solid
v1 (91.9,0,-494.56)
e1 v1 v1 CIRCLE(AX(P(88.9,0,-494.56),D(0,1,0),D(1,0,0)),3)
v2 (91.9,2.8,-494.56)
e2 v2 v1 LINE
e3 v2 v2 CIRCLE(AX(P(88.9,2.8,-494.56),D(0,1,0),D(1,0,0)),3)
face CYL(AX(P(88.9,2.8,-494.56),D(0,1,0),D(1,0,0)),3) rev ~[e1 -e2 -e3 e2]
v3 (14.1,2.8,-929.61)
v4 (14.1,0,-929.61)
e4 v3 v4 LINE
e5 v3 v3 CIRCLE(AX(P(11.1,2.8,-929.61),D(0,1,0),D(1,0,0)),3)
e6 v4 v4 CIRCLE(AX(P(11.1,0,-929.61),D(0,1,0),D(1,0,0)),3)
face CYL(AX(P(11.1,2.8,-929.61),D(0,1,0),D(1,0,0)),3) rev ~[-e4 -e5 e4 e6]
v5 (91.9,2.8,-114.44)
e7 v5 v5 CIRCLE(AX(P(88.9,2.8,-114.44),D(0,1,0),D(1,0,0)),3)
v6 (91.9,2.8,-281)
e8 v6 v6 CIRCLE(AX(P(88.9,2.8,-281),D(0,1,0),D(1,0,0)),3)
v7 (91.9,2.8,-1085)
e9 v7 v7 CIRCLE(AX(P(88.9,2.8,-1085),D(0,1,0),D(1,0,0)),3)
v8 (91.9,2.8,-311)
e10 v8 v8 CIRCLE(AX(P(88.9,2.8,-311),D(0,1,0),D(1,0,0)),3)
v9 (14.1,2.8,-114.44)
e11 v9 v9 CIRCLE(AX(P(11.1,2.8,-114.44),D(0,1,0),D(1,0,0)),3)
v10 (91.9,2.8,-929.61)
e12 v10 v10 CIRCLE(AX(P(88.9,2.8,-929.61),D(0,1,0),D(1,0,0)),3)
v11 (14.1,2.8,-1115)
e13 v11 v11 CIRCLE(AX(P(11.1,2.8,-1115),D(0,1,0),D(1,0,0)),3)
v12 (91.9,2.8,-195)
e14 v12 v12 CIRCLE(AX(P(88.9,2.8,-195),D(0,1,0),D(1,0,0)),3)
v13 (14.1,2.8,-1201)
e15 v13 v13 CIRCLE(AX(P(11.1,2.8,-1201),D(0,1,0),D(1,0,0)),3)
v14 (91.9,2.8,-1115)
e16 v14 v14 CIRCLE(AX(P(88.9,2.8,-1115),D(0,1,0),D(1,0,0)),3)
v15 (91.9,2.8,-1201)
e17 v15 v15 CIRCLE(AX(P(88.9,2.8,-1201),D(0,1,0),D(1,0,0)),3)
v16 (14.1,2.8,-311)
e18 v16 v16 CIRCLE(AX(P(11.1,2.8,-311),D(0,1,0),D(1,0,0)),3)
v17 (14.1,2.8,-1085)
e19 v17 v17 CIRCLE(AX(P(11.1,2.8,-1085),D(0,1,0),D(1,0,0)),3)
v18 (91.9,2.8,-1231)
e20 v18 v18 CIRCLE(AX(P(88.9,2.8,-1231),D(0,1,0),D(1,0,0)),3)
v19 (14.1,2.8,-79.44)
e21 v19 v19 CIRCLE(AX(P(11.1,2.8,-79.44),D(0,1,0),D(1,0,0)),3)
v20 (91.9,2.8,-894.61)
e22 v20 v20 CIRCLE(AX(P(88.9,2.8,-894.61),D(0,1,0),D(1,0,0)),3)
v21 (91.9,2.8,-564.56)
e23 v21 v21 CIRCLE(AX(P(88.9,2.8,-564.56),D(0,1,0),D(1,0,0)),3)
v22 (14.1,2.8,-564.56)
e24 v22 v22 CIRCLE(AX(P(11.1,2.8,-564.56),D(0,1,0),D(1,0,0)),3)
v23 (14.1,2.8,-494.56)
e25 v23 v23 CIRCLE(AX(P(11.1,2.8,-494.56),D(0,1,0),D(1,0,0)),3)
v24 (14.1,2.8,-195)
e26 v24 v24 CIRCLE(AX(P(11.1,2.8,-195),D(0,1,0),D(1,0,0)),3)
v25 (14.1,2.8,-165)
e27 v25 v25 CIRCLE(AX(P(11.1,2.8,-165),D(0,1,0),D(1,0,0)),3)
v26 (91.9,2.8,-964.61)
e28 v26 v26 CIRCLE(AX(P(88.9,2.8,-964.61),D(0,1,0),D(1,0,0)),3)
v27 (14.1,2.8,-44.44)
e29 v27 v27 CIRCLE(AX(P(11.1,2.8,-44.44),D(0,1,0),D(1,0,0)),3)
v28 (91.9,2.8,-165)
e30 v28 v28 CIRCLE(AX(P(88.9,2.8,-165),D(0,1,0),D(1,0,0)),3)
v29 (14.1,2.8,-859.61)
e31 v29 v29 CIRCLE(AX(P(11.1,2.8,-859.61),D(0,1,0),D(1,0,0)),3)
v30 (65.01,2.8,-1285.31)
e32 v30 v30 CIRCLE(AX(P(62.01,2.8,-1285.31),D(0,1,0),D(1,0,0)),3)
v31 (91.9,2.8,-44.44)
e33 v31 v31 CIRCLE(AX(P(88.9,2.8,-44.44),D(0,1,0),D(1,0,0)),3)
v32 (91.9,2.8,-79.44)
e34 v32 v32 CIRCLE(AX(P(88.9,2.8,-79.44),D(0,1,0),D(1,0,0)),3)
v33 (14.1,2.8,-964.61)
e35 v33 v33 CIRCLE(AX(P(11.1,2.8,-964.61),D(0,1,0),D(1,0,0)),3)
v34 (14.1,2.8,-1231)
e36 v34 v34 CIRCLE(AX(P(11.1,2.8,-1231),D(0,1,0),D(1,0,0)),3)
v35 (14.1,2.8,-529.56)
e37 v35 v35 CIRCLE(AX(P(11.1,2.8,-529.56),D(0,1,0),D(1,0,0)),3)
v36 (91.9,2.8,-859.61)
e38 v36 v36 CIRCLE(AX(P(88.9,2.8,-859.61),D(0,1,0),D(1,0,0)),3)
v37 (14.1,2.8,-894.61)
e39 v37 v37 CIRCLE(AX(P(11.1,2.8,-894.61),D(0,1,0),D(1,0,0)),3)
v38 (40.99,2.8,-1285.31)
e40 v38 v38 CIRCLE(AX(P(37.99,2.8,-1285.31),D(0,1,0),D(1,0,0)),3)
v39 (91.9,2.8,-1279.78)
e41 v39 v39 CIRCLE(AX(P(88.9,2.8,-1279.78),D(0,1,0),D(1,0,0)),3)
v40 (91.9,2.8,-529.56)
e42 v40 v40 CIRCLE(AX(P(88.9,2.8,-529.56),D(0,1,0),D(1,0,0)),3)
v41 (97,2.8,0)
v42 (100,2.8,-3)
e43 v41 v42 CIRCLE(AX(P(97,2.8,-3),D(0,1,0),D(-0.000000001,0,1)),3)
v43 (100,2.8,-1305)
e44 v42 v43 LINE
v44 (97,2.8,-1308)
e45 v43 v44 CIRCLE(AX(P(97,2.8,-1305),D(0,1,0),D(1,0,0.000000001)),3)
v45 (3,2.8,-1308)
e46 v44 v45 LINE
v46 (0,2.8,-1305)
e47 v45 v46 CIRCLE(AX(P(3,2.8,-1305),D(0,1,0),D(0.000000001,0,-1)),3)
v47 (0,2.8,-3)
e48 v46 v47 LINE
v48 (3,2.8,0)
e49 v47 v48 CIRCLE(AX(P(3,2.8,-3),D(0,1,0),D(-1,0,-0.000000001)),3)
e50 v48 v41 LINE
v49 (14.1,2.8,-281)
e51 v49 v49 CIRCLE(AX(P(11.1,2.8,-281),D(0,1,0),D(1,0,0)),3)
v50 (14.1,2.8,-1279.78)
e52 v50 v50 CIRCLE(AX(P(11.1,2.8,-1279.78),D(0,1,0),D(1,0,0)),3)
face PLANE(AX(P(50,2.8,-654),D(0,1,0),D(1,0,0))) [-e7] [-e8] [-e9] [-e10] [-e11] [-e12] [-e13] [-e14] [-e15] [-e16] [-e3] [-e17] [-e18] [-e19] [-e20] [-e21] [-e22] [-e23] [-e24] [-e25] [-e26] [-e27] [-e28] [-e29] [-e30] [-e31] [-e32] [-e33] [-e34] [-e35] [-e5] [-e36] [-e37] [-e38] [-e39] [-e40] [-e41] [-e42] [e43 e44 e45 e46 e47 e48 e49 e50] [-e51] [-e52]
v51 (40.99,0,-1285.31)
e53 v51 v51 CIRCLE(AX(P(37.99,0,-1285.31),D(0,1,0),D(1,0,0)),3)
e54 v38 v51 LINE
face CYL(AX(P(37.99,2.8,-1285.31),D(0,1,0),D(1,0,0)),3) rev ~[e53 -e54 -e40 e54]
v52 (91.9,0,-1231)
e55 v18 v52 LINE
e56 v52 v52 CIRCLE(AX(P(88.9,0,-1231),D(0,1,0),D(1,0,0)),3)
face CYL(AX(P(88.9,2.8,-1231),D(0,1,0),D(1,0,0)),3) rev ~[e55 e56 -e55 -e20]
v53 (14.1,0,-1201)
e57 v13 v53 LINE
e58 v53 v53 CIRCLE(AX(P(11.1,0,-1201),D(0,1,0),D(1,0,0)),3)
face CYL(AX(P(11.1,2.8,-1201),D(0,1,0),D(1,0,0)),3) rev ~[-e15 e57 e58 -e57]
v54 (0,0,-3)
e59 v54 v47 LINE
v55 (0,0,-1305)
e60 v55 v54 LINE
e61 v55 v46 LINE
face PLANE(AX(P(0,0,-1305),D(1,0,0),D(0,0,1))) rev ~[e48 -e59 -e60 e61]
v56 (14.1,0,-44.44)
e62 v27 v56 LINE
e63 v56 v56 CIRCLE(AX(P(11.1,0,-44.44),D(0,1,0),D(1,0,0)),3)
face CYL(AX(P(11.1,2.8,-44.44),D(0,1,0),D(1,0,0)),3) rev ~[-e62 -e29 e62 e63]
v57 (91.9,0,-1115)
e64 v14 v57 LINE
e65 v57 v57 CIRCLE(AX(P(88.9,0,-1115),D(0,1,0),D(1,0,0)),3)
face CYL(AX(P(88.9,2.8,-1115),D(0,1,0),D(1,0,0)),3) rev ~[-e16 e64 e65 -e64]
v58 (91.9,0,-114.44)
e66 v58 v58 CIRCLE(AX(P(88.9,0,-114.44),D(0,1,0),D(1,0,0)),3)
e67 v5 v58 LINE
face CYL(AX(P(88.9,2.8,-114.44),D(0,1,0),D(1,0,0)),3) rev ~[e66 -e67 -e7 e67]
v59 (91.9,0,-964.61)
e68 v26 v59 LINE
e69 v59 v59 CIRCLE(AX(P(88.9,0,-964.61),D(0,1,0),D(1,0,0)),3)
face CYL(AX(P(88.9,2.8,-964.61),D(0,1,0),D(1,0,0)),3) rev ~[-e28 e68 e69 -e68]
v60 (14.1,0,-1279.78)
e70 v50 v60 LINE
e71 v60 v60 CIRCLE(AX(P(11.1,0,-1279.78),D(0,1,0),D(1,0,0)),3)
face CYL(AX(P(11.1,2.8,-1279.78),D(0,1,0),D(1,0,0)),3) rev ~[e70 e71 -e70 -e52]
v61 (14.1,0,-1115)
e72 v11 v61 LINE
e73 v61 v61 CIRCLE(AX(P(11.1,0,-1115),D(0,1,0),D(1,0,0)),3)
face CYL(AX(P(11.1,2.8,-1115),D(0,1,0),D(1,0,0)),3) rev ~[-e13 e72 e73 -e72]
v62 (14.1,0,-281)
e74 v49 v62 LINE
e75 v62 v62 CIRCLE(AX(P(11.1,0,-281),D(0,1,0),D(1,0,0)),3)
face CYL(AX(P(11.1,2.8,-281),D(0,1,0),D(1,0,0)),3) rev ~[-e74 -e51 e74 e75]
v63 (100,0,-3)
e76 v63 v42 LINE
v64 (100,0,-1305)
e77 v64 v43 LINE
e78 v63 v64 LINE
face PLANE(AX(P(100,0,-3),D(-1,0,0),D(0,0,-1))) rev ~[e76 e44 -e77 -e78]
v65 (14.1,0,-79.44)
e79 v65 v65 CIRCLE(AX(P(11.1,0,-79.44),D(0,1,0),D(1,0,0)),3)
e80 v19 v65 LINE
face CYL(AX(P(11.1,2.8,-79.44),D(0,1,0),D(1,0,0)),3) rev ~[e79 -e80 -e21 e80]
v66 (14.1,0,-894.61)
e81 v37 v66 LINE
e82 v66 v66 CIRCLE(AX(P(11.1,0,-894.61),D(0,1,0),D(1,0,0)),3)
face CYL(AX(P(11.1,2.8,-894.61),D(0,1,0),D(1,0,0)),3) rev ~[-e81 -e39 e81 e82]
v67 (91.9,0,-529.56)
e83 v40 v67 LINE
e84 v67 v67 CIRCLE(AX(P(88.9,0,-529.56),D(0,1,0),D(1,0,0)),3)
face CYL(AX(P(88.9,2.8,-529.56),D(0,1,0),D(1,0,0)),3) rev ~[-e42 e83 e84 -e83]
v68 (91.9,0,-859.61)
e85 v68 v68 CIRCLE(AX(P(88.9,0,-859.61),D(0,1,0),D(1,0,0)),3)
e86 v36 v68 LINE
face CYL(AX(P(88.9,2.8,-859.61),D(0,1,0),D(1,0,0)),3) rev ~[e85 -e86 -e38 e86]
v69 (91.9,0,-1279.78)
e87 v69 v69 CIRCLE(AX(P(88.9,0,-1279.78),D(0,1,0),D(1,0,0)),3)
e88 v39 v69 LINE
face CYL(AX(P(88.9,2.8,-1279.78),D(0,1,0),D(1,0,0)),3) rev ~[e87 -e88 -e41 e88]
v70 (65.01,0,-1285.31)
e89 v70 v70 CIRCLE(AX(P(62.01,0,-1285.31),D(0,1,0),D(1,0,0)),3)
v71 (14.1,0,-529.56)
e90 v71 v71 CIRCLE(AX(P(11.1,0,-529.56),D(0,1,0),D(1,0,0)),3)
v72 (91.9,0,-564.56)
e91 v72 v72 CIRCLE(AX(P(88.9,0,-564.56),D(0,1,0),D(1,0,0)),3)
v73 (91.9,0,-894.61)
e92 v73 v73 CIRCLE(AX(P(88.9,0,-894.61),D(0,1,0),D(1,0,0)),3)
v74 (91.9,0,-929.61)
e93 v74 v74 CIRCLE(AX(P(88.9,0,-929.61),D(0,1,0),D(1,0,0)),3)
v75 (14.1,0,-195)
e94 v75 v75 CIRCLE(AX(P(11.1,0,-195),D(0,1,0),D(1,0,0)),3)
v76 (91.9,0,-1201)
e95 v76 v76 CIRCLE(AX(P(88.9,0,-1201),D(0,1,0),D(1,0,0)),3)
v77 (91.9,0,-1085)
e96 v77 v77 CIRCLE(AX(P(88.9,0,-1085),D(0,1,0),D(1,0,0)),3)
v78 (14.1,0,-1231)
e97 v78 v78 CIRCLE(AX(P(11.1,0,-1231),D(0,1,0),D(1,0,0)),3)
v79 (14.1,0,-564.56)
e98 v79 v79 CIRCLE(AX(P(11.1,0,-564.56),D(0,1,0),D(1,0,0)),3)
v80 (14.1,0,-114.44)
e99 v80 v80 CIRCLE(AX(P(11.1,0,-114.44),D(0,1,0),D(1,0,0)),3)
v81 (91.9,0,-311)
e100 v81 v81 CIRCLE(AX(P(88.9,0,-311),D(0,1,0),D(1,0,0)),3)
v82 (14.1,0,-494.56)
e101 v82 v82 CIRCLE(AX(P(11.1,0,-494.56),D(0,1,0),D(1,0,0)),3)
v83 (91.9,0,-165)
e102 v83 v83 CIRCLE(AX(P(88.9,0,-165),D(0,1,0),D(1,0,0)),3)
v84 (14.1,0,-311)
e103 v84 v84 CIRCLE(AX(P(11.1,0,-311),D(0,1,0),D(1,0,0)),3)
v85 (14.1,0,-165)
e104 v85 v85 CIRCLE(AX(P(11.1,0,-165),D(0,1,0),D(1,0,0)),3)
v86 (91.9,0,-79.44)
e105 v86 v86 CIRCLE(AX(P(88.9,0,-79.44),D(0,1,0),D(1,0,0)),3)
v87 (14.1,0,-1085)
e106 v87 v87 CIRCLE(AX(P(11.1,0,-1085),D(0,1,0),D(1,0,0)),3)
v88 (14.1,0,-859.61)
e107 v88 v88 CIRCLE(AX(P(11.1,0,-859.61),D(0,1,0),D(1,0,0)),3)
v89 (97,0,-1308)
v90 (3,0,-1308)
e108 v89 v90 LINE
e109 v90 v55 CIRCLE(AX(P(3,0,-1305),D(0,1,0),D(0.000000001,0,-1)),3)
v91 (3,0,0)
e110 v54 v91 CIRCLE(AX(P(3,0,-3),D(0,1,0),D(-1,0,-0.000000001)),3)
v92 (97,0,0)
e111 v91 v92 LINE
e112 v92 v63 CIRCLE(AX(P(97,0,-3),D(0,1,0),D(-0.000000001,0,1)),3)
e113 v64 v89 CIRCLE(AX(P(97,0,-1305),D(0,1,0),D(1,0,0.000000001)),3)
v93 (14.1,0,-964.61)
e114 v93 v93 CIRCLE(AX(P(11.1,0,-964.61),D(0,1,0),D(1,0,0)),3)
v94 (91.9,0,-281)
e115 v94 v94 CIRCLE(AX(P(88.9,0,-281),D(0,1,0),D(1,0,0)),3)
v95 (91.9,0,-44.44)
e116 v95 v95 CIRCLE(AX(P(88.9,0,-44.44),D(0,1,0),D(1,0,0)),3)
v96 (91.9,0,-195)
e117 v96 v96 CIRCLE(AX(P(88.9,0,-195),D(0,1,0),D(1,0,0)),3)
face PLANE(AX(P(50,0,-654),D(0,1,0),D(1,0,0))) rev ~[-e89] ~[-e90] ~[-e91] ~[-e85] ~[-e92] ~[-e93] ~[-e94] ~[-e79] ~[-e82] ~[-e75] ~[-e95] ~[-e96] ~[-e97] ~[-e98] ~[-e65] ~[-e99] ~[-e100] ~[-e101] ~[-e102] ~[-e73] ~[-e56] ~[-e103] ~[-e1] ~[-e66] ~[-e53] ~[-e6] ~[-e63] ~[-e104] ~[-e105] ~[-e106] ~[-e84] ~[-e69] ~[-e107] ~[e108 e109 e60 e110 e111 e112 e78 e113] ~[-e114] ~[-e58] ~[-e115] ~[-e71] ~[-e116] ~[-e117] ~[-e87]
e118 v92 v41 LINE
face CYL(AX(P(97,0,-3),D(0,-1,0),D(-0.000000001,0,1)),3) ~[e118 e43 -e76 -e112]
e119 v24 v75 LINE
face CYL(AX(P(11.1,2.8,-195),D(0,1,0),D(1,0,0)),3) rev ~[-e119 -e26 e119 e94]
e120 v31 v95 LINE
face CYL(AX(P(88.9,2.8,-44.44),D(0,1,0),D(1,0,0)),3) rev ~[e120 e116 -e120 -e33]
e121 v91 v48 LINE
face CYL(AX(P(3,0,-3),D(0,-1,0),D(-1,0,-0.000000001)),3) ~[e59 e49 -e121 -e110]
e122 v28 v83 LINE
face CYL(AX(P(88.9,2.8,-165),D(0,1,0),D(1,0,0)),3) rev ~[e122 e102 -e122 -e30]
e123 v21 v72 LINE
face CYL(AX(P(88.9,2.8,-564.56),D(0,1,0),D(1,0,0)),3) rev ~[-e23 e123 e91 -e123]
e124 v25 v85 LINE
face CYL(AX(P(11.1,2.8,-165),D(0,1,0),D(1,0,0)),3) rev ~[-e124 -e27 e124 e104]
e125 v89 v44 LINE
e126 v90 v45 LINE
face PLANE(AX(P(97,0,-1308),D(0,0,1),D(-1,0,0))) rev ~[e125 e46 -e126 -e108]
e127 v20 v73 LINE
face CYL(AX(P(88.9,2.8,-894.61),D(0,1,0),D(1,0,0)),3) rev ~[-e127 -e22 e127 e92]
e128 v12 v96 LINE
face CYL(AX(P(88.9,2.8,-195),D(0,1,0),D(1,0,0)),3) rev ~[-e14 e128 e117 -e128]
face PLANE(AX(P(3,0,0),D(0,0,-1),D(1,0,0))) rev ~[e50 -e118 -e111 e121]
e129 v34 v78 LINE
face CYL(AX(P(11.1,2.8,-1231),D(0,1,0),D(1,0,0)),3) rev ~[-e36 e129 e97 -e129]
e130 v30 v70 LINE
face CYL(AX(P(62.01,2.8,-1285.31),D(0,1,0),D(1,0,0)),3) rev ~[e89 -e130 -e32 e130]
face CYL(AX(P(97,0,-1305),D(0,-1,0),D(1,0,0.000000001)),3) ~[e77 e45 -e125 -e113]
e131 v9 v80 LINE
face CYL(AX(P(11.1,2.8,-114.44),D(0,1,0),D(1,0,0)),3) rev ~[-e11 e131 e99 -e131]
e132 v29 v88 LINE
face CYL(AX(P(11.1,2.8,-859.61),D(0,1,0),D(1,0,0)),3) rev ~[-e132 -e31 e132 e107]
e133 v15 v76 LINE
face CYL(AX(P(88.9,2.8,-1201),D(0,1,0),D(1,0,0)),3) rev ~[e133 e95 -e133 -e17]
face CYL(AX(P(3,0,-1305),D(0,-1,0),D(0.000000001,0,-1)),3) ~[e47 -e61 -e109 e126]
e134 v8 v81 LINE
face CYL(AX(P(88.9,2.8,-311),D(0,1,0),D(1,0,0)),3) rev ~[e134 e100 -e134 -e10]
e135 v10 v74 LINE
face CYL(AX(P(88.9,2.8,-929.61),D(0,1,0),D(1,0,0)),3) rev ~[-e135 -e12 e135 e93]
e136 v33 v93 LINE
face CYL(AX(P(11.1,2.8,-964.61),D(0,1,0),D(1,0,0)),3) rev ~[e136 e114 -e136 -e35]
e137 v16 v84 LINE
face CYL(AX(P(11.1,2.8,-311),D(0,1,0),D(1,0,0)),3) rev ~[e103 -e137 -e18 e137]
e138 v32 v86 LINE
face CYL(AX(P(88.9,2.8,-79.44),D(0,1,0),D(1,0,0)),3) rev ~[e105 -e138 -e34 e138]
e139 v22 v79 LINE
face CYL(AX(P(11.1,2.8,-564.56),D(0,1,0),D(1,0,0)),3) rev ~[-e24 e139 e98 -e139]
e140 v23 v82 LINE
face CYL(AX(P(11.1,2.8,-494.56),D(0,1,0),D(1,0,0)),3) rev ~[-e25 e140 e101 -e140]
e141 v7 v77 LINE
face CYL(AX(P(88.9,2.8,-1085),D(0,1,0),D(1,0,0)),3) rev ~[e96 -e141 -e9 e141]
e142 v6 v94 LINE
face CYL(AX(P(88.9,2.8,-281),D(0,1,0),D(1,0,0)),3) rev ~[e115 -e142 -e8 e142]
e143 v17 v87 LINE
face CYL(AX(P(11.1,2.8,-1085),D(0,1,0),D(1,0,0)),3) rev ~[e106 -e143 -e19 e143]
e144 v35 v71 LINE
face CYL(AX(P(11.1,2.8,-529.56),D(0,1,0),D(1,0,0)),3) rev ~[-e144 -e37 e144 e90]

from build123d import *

# Parameters (mm, degrees)
BOSS_EXTRUDE1_DEPTH = 2.8
CUT_EXTRUDE1_REACH  = 4.8
SKETCH2_R           = 3
CUT_EXTRUDE2_REACH  = 4.8
SKETCH3_R           = 3
CUT_EXTRUDE3_REACH  = 4.8
SKETCH4_R           = 3
CUT_EXTRUDE4_REACH  = 4.8
SKETCH5_R           = 3


with BuildPart() as part:
    # Sketch1 → Boss-Extrude1 (new body)
    with BuildSketch(Plane(origin=(0, 0, 0), x_dir=(1, 0, 0), z_dir=(0, 1, 0))):
        with BuildLine():
            Line((3, 0), (97, 0))
            ThreePointArc((97, 0), (99.121320344, 0.878679656), (100, 3))
            Line((100, 3), (100, 1305))
            ThreePointArc((100, 1305), (99.121320344, 1307.121320344), (97, 1308))
            Line((97, 1308), (3, 1308))
            ThreePointArc((3, 1308), (0.878679656, 1307.121320344), (0, 1305))
            Line((0, 1305), (0, 3))
            ThreePointArc((0, 3), (0.878679656, 0.878679656), (3, 0))
        make_face()
    extrude(amount=BOSS_EXTRUDE1_DEPTH)

    # Sketch2 → Cut-Extrude1 (cut, up to next)
    with BuildSketch(Plane(origin=(0, 2.8, 0), x_dir=(1, 0, 0), z_dir=(0, 1, 0)), mode=Mode.PRIVATE) as cut_extrude1_sk1:
        with Locations((88.9, 1279.78)):
            Circle(SKETCH2_R)
    cut_extrude1_tool1 = extrude(cut_extrude1_sk1.sketch, amount=-CUT_EXTRUDE1_REACH, mode=Mode.PRIVATE) & part.part
    add(cut_extrude1_tool1.solids().sort_by_distance((88.9, 2.8, -1279.78))[0], mode=Mode.SUBTRACT)
    # Sketch2 → Cut-Extrude1 (cut, up to next)
    with BuildSketch(Plane(origin=(0, 2.8, 0), x_dir=(1, 0, 0), z_dir=(0, 1, 0)), mode=Mode.PRIVATE) as cut_extrude1_sk2:
        with Locations((88.9, 929.61)):
            Circle(SKETCH2_R)
    cut_extrude1_tool2 = extrude(cut_extrude1_sk2.sketch, amount=-CUT_EXTRUDE1_REACH, mode=Mode.PRIVATE) & part.part
    add(cut_extrude1_tool2.solids().sort_by_distance((88.9, 2.8, -929.61))[0], mode=Mode.SUBTRACT)
    # Sketch2 → Cut-Extrude1 (cut, up to next)
    with BuildSketch(Plane(origin=(0, 2.8, 0), x_dir=(1, 0, 0), z_dir=(0, 1, 0)), mode=Mode.PRIVATE) as cut_extrude1_sk3:
        with Locations((88.9, 529.56)):
            Circle(SKETCH2_R)
    cut_extrude1_tool3 = extrude(cut_extrude1_sk3.sketch, amount=-CUT_EXTRUDE1_REACH, mode=Mode.PRIVATE) & part.part
    add(cut_extrude1_tool3.solids().sort_by_distance((88.9, 2.8, -529.56))[0], mode=Mode.SUBTRACT)
    # Sketch2 → Cut-Extrude1 (cut, up to next)
    with BuildSketch(Plane(origin=(0, 2.8, 0), x_dir=(1, 0, 0), z_dir=(0, 1, 0)), mode=Mode.PRIVATE) as cut_extrude1_sk4:
        with Locations((88.9, 79.44)):
            Circle(SKETCH2_R)
    cut_extrude1_tool4 = extrude(cut_extrude1_sk4.sketch, amount=-CUT_EXTRUDE1_REACH, mode=Mode.PRIVATE) & part.part
    add(cut_extrude1_tool4.solids().sort_by_distance((88.9, 2.8, -79.44))[0], mode=Mode.SUBTRACT)
    # Sketch2 → Cut-Extrude1 (cut, up to next)
    with BuildSketch(Plane(origin=(0, 2.8, 0), x_dir=(1, 0, 0), z_dir=(0, 1, 0)), mode=Mode.PRIVATE) as cut_extrude1_sk5:
        with Locations((11.1, 79.44)):
            Circle(SKETCH2_R)
    cut_extrude1_tool5 = extrude(cut_extrude1_sk5.sketch, amount=-CUT_EXTRUDE1_REACH, mode=Mode.PRIVATE) & part.part
    add(cut_extrude1_tool5.solids().sort_by_distance((11.1, 2.8, -79.44))[0], mode=Mode.SUBTRACT)
    # Sketch2 → Cut-Extrude1 (cut, up to next)
    with BuildSketch(Plane(origin=(0, 2.8, 0), x_dir=(1, 0, 0), z_dir=(0, 1, 0)), mode=Mode.PRIVATE) as cut_extrude1_sk6:
        with Locations((11.1, 529.56)):
            Circle(SKETCH2_R)
    cut_extrude1_tool6 = extrude(cut_extrude1_sk6.sketch, amount=-CUT_EXTRUDE1_REACH, mode=Mode.PRIVATE) & part.part
    add(cut_extrude1_tool6.solids().sort_by_distance((11.1, 2.8, -529.56))[0], mode=Mode.SUBTRACT)
    # Sketch2 → Cut-Extrude1 (cut, up to next)
    with BuildSketch(Plane(origin=(0, 2.8, 0), x_dir=(1, 0, 0), z_dir=(0, 1, 0)), mode=Mode.PRIVATE) as cut_extrude1_sk7:
        with Locations((11.1, 929.61)):
            Circle(SKETCH2_R)
    cut_extrude1_tool7 = extrude(cut_extrude1_sk7.sketch, amount=-CUT_EXTRUDE1_REACH, mode=Mode.PRIVATE) & part.part
    add(cut_extrude1_tool7.solids().sort_by_distance((11.1, 2.8, -929.61))[0], mode=Mode.SUBTRACT)
    # Sketch2 → Cut-Extrude1 (cut, up to next)
    with BuildSketch(Plane(origin=(0, 2.8, 0), x_dir=(1, 0, 0), z_dir=(0, 1, 0)), mode=Mode.PRIVATE) as cut_extrude1_sk8:
        with Locations((11.1, 1279.78)):
            Circle(SKETCH2_R)
    cut_extrude1_tool8 = extrude(cut_extrude1_sk8.sketch, amount=-CUT_EXTRUDE1_REACH, mode=Mode.PRIVATE) & part.part
    add(cut_extrude1_tool8.solids().sort_by_distance((11.1, 2.8, -1279.78))[0], mode=Mode.SUBTRACT)

    # Sketch3 → Cut-Extrude2 (cut, up to next)
    with BuildSketch(Plane(origin=(0, 2.8, 0), x_dir=(1, 0, 0), z_dir=(0, 1, 0)), mode=Mode.PRIVATE) as cut_extrude2_sk1:
        with Locations((88.9, 1201)):
            Circle(SKETCH3_R)
    cut_extrude2_tool1 = extrude(cut_extrude2_sk1.sketch, amount=-CUT_EXTRUDE2_REACH, mode=Mode.PRIVATE) & part.part
    add(cut_extrude2_tool1.solids().sort_by_distance((88.9, 2.8, -1201))[0], mode=Mode.SUBTRACT)
    # Sketch3 → Cut-Extrude2 (cut, up to next)
    with BuildSketch(Plane(origin=(0, 2.8, 0), x_dir=(1, 0, 0), z_dir=(0, 1, 0)), mode=Mode.PRIVATE) as cut_extrude2_sk2:
        with Locations((88.9, 1115)):
            Circle(SKETCH3_R)
    cut_extrude2_tool2 = extrude(cut_extrude2_sk2.sketch, amount=-CUT_EXTRUDE2_REACH, mode=Mode.PRIVATE) & part.part
    add(cut_extrude2_tool2.solids().sort_by_distance((88.9, 2.8, -1115))[0], mode=Mode.SUBTRACT)
    # Sketch3 → Cut-Extrude2 (cut, up to next)
    with BuildSketch(Plane(origin=(0, 2.8, 0), x_dir=(1, 0, 0), z_dir=(0, 1, 0)), mode=Mode.PRIVATE) as cut_extrude2_sk3:
        with Locations((11.1, 1115)):
            Circle(SKETCH3_R)
    cut_extrude2_tool3 = extrude(cut_extrude2_sk3.sketch, amount=-CUT_EXTRUDE2_REACH, mode=Mode.PRIVATE) & part.part
    add(cut_extrude2_tool3.solids().sort_by_distance((11.1, 2.8, -1115))[0], mode=Mode.SUBTRACT)
    # Sketch3 → Cut-Extrude2 (cut, up to next)
    with BuildSketch(Plane(origin=(0, 2.8, 0), x_dir=(1, 0, 0), z_dir=(0, 1, 0)), mode=Mode.PRIVATE) as cut_extrude2_sk4:
        with Locations((11.1, 1201)):
            Circle(SKETCH3_R)
    cut_extrude2_tool4 = extrude(cut_extrude2_sk4.sketch, amount=-CUT_EXTRUDE2_REACH, mode=Mode.PRIVATE) & part.part
    add(cut_extrude2_tool4.solids().sort_by_distance((11.1, 2.8, -1201))[0], mode=Mode.SUBTRACT)
    # Sketch3 → Cut-Extrude2 (cut, up to next)
    with BuildSketch(Plane(origin=(0, 2.8, 0), x_dir=(1, 0, 0), z_dir=(0, 1, 0)), mode=Mode.PRIVATE) as cut_extrude2_sk5:
        with Locations((88.9, 281)):
            Circle(SKETCH3_R)
    cut_extrude2_tool5 = extrude(cut_extrude2_sk5.sketch, amount=-CUT_EXTRUDE2_REACH, mode=Mode.PRIVATE) & part.part
    add(cut_extrude2_tool5.solids().sort_by_distance((88.9, 2.8, -281))[0], mode=Mode.SUBTRACT)
    # Sketch3 → Cut-Extrude2 (cut, up to next)
    with BuildSketch(Plane(origin=(0, 2.8, 0), x_dir=(1, 0, 0), z_dir=(0, 1, 0)), mode=Mode.PRIVATE) as cut_extrude2_sk6:
        with Locations((88.9, 195)):
            Circle(SKETCH3_R)
    cut_extrude2_tool6 = extrude(cut_extrude2_sk6.sketch, amount=-CUT_EXTRUDE2_REACH, mode=Mode.PRIVATE) & part.part
    add(cut_extrude2_tool6.solids().sort_by_distance((88.9, 2.8, -195))[0], mode=Mode.SUBTRACT)
    # Sketch3 → Cut-Extrude2 (cut, up to next)
    with BuildSketch(Plane(origin=(0, 2.8, 0), x_dir=(1, 0, 0), z_dir=(0, 1, 0)), mode=Mode.PRIVATE) as cut_extrude2_sk7:
        with Locations((11.1, 195)):
            Circle(SKETCH3_R)
    cut_extrude2_tool7 = extrude(cut_extrude2_sk7.sketch, amount=-CUT_EXTRUDE2_REACH, mode=Mode.PRIVATE) & part.part
    add(cut_extrude2_tool7.solids().sort_by_distance((11.1, 2.8, -195))[0], mode=Mode.SUBTRACT)
    # Sketch3 → Cut-Extrude2 (cut, up to next)
    with BuildSketch(Plane(origin=(0, 2.8, 0), x_dir=(1, 0, 0), z_dir=(0, 1, 0)), mode=Mode.PRIVATE) as cut_extrude2_sk8:
        with Locations((11.1, 281)):
            Circle(SKETCH3_R)
    cut_extrude2_tool8 = extrude(cut_extrude2_sk8.sketch, amount=-CUT_EXTRUDE2_REACH, mode=Mode.PRIVATE) & part.part
    add(cut_extrude2_tool8.solids().sort_by_distance((11.1, 2.8, -281))[0], mode=Mode.SUBTRACT)

    # Sketch4 → Cut-Extrude3 (cut, up to next)
    with BuildSketch(Plane(origin=(0, 2.8, 0), x_dir=(1, 0, 0), z_dir=(0, 1, 0)), mode=Mode.PRIVATE) as cut_extrude3_sk1:
        with Locations((88.9, 1231)):
            Circle(SKETCH4_R)
    cut_extrude3_tool1 = extrude(cut_extrude3_sk1.sketch, amount=-CUT_EXTRUDE3_REACH, mode=Mode.PRIVATE) & part.part
    add(cut_extrude3_tool1.solids().sort_by_distance((88.9, 2.8, -1231))[0], mode=Mode.SUBTRACT)
    # Sketch4 → Cut-Extrude3 (cut, up to next)
    with BuildSketch(Plane(origin=(0, 2.8, 0), x_dir=(1, 0, 0), z_dir=(0, 1, 0)), mode=Mode.PRIVATE) as cut_extrude3_sk2:
        with Locations((88.9, 1085)):
            Circle(SKETCH4_R)
    cut_extrude3_tool2 = extrude(cut_extrude3_sk2.sketch, amount=-CUT_EXTRUDE3_REACH, mode=Mode.PRIVATE) & part.part
    add(cut_extrude3_tool2.solids().sort_by_distance((88.9, 2.8, -1085))[0], mode=Mode.SUBTRACT)
    # Sketch4 → Cut-Extrude3 (cut, up to next)
    with BuildSketch(Plane(origin=(0, 2.8, 0), x_dir=(1, 0, 0), z_dir=(0, 1, 0)), mode=Mode.PRIVATE) as cut_extrude3_sk3:
        with Locations((88.9, 964.61)):
            Circle(SKETCH4_R)
    cut_extrude3_tool3 = extrude(cut_extrude3_sk3.sketch, amount=-CUT_EXTRUDE3_REACH, mode=Mode.PRIVATE) & part.part
    add(cut_extrude3_tool3.solids().sort_by_distance((88.9, 2.8, -964.61))[0], mode=Mode.SUBTRACT)
    # Sketch4 → Cut-Extrude3 (cut, up to next)
    with BuildSketch(Plane(origin=(0, 2.8, 0), x_dir=(1, 0, 0), z_dir=(0, 1, 0)), mode=Mode.PRIVATE) as cut_extrude3_sk4:
        with Locations((88.9, 894.61)):
            Circle(SKETCH4_R)
    cut_extrude3_tool4 = extrude(cut_extrude3_sk4.sketch, amount=-CUT_EXTRUDE3_REACH, mode=Mode.PRIVATE) & part.part
    add(cut_extrude3_tool4.solids().sort_by_distance((88.9, 2.8, -894.61))[0], mode=Mode.SUBTRACT)
    # Sketch4 → Cut-Extrude3 (cut, up to next)
    with BuildSketch(Plane(origin=(0, 2.8, 0), x_dir=(1, 0, 0), z_dir=(0, 1, 0)), mode=Mode.PRIVATE) as cut_extrude3_sk5:
        with Locations((88.9, 564.56)):
            Circle(SKETCH4_R)
    cut_extrude3_tool5 = extrude(cut_extrude3_sk5.sketch, amount=-CUT_EXTRUDE3_REACH, mode=Mode.PRIVATE) & part.part
    add(cut_extrude3_tool5.solids().sort_by_distance((88.9, 2.8, -564.56))[0], mode=Mode.SUBTRACT)
    # Sketch4 → Cut-Extrude3 (cut, up to next)
    with BuildSketch(Plane(origin=(0, 2.8, 0), x_dir=(1, 0, 0), z_dir=(0, 1, 0)), mode=Mode.PRIVATE) as cut_extrude3_sk6:
        with Locations((88.9, 494.56)):
            Circle(SKETCH4_R)
    cut_extrude3_tool6 = extrude(cut_extrude3_sk6.sketch, amount=-CUT_EXTRUDE3_REACH, mode=Mode.PRIVATE) & part.part
    add(cut_extrude3_tool6.solids().sort_by_distance((88.9, 2.8, -494.56))[0], mode=Mode.SUBTRACT)
    # Sketch4 → Cut-Extrude3 (cut, up to next)
    with BuildSketch(Plane(origin=(0, 2.8, 0), x_dir=(1, 0, 0), z_dir=(0, 1, 0)), mode=Mode.PRIVATE) as cut_extrude3_sk7:
        with Locations((88.9, 114.44)):
            Circle(SKETCH4_R)
    cut_extrude3_tool7 = extrude(cut_extrude3_sk7.sketch, amount=-CUT_EXTRUDE3_REACH, mode=Mode.PRIVATE) & part.part
    add(cut_extrude3_tool7.solids().sort_by_distance((88.9, 2.8, -114.44))[0], mode=Mode.SUBTRACT)
    # Sketch4 → Cut-Extrude3 (cut, up to next)
    with BuildSketch(Plane(origin=(0, 2.8, 0), x_dir=(1, 0, 0), z_dir=(0, 1, 0)), mode=Mode.PRIVATE) as cut_extrude3_sk8:
        with Locations((88.9, 44.44)):
            Circle(SKETCH4_R)
    cut_extrude3_tool8 = extrude(cut_extrude3_sk8.sketch, amount=-CUT_EXTRUDE3_REACH, mode=Mode.PRIVATE) & part.part
    add(cut_extrude3_tool8.solids().sort_by_distance((88.9, 2.8, -44.44))[0], mode=Mode.SUBTRACT)
    # Sketch4 → Cut-Extrude3 (cut, up to next)
    with BuildSketch(Plane(origin=(0, 2.8, 0), x_dir=(1, 0, 0), z_dir=(0, 1, 0)), mode=Mode.PRIVATE) as cut_extrude3_sk9:
        with Locations((88.9, 311)):
            Circle(SKETCH4_R)
    cut_extrude3_tool9 = extrude(cut_extrude3_sk9.sketch, amount=-CUT_EXTRUDE3_REACH, mode=Mode.PRIVATE) & part.part
    add(cut_extrude3_tool9.solids().sort_by_distance((88.9, 2.8, -311))[0], mode=Mode.SUBTRACT)
    # Sketch4 → Cut-Extrude3 (cut, up to next)
    with BuildSketch(Plane(origin=(0, 2.8, 0), x_dir=(1, 0, 0), z_dir=(0, 1, 0)), mode=Mode.PRIVATE) as cut_extrude3_sk10:
        with Locations((88.9, 165)):
            Circle(SKETCH4_R)
    cut_extrude3_tool10 = extrude(cut_extrude3_sk10.sketch, amount=-CUT_EXTRUDE3_REACH, mode=Mode.PRIVATE) & part.part
    add(cut_extrude3_tool10.solids().sort_by_distance((88.9, 2.8, -165))[0], mode=Mode.SUBTRACT)
    # Sketch4 → Cut-Extrude3 (cut, up to next)
    with BuildSketch(Plane(origin=(0, 2.8, 0), x_dir=(1, 0, 0), z_dir=(0, 1, 0)), mode=Mode.PRIVATE) as cut_extrude3_sk11:
        with Locations((11.1, 165)):
            Circle(SKETCH4_R)
    cut_extrude3_tool11 = extrude(cut_extrude3_sk11.sketch, amount=-CUT_EXTRUDE3_REACH, mode=Mode.PRIVATE) & part.part
    add(cut_extrude3_tool11.solids().sort_by_distance((11.1, 2.8, -165))[0], mode=Mode.SUBTRACT)
    # Sketch4 → Cut-Extrude3 (cut, up to next)
    with BuildSketch(Plane(origin=(0, 2.8, 0), x_dir=(1, 0, 0), z_dir=(0, 1, 0)), mode=Mode.PRIVATE) as cut_extrude3_sk12:
        with Locations((11.1, 311)):
            Circle(SKETCH4_R)
    cut_extrude3_tool12 = extrude(cut_extrude3_sk12.sketch, amount=-CUT_EXTRUDE3_REACH, mode=Mode.PRIVATE) & part.part
    add(cut_extrude3_tool12.solids().sort_by_distance((11.1, 2.8, -311))[0], mode=Mode.SUBTRACT)
    # Sketch4 → Cut-Extrude3 (cut, up to next)
    with BuildSketch(Plane(origin=(0, 2.8, 0), x_dir=(1, 0, 0), z_dir=(0, 1, 0)), mode=Mode.PRIVATE) as cut_extrude3_sk13:
        with Locations((11.1, 44.44)):
            Circle(SKETCH4_R)
    cut_extrude3_tool13 = extrude(cut_extrude3_sk13.sketch, amount=-CUT_EXTRUDE3_REACH, mode=Mode.PRIVATE) & part.part
    add(cut_extrude3_tool13.solids().sort_by_distance((11.1, 2.8, -44.44))[0], mode=Mode.SUBTRACT)
    # Sketch4 → Cut-Extrude3 (cut, up to next)
    with BuildSketch(Plane(origin=(0, 2.8, 0), x_dir=(1, 0, 0), z_dir=(0, 1, 0)), mode=Mode.PRIVATE) as cut_extrude3_sk14:
        with Locations((11.1, 114.44)):
            Circle(SKETCH4_R)
    cut_extrude3_tool14 = extrude(cut_extrude3_sk14.sketch, amount=-CUT_EXTRUDE3_REACH, mode=Mode.PRIVATE) & part.part
    add(cut_extrude3_tool14.solids().sort_by_distance((11.1, 2.8, -114.44))[0], mode=Mode.SUBTRACT)
    # Sketch4 → Cut-Extrude3 (cut, up to next)
    with BuildSketch(Plane(origin=(0, 2.8, 0), x_dir=(1, 0, 0), z_dir=(0, 1, 0)), mode=Mode.PRIVATE) as cut_extrude3_sk15:
        with Locations((11.1, 494.56)):
            Circle(SKETCH4_R)
    cut_extrude3_tool15 = extrude(cut_extrude3_sk15.sketch, amount=-CUT_EXTRUDE3_REACH, mode=Mode.PRIVATE) & part.part
    add(cut_extrude3_tool15.solids().sort_by_distance((11.1, 2.8, -494.56))[0], mode=Mode.SUBTRACT)
    # Sketch4 → Cut-Extrude3 (cut, up to next)
    with BuildSketch(Plane(origin=(0, 2.8, 0), x_dir=(1, 0, 0), z_dir=(0, 1, 0)), mode=Mode.PRIVATE) as cut_extrude3_sk16:
        with Locations((11.1, 564.56)):
            Circle(SKETCH4_R)
    cut_extrude3_tool16 = extrude(cut_extrude3_sk16.sketch, amount=-CUT_EXTRUDE3_REACH, mode=Mode.PRIVATE) & part.part
    add(cut_extrude3_tool16.solids().sort_by_distance((11.1, 2.8, -564.56))[0], mode=Mode.SUBTRACT)
    # Sketch4 → Cut-Extrude3 (cut, up to next)
    with BuildSketch(Plane(origin=(0, 2.8, 0), x_dir=(1, 0, 0), z_dir=(0, 1, 0)), mode=Mode.PRIVATE) as cut_extrude3_sk17:
        with Locations((11.1, 894.61)):
            Circle(SKETCH4_R)
    cut_extrude3_tool17 = extrude(cut_extrude3_sk17.sketch, amount=-CUT_EXTRUDE3_REACH, mode=Mode.PRIVATE) & part.part
    add(cut_extrude3_tool17.solids().sort_by_distance((11.1, 2.8, -894.61))[0], mode=Mode.SUBTRACT)
    # Sketch4 → Cut-Extrude3 (cut, up to next)
    with BuildSketch(Plane(origin=(0, 2.8, 0), x_dir=(1, 0, 0), z_dir=(0, 1, 0)), mode=Mode.PRIVATE) as cut_extrude3_sk18:
        with Locations((11.1, 964.61)):
            Circle(SKETCH4_R)
    cut_extrude3_tool18 = extrude(cut_extrude3_sk18.sketch, amount=-CUT_EXTRUDE3_REACH, mode=Mode.PRIVATE) & part.part
    add(cut_extrude3_tool18.solids().sort_by_distance((11.1, 2.8, -964.61))[0], mode=Mode.SUBTRACT)
    # Sketch4 → Cut-Extrude3 (cut, up to next)
    with BuildSketch(Plane(origin=(0, 2.8, 0), x_dir=(1, 0, 0), z_dir=(0, 1, 0)), mode=Mode.PRIVATE) as cut_extrude3_sk19:
        with Locations((11.1, 1085)):
            Circle(SKETCH4_R)
    cut_extrude3_tool19 = extrude(cut_extrude3_sk19.sketch, amount=-CUT_EXTRUDE3_REACH, mode=Mode.PRIVATE) & part.part
    add(cut_extrude3_tool19.solids().sort_by_distance((11.1, 2.8, -1085))[0], mode=Mode.SUBTRACT)
    # Sketch4 → Cut-Extrude3 (cut, up to next)
    with BuildSketch(Plane(origin=(0, 2.8, 0), x_dir=(1, 0, 0), z_dir=(0, 1, 0)), mode=Mode.PRIVATE) as cut_extrude3_sk20:
        with Locations((11.1, 1231)):
            Circle(SKETCH4_R)
    cut_extrude3_tool20 = extrude(cut_extrude3_sk20.sketch, amount=-CUT_EXTRUDE3_REACH, mode=Mode.PRIVATE) & part.part
    add(cut_extrude3_tool20.solids().sort_by_distance((11.1, 2.8, -1231))[0], mode=Mode.SUBTRACT)
    # Sketch4 → Cut-Extrude3 (cut, up to next)
    with BuildSketch(Plane(origin=(0, 2.8, 0), x_dir=(1, 0, 0), z_dir=(0, 1, 0)), mode=Mode.PRIVATE) as cut_extrude3_sk21:
        with Locations((88.9, 859.61)):
            Circle(SKETCH4_R)
    cut_extrude3_tool21 = extrude(cut_extrude3_sk21.sketch, amount=-CUT_EXTRUDE3_REACH, mode=Mode.PRIVATE) & part.part
    add(cut_extrude3_tool21.solids().sort_by_distance((88.9, 2.8, -859.61))[0], mode=Mode.SUBTRACT)
    # Sketch4 → Cut-Extrude3 (cut, up to next)
    with BuildSketch(Plane(origin=(0, 2.8, 0), x_dir=(1, 0, 0), z_dir=(0, 1, 0)), mode=Mode.PRIVATE) as cut_extrude3_sk22:
        with Locations((11.1, 859.61)):
            Circle(SKETCH4_R)
    cut_extrude3_tool22 = extrude(cut_extrude3_sk22.sketch, amount=-CUT_EXTRUDE3_REACH, mode=Mode.PRIVATE) & part.part
    add(cut_extrude3_tool22.solids().sort_by_distance((11.1, 2.8, -859.61))[0], mode=Mode.SUBTRACT)

    # Sketch5 → Cut-Extrude4 (cut, up to next)
    with BuildSketch(Plane(origin=(0, 2.8, 0), x_dir=(1, 0, 0), z_dir=(0, 1, 0)), mode=Mode.PRIVATE) as cut_extrude4_sk1:
        with Locations((37.99, 1285.31)):
            Circle(SKETCH5_R)
    cut_extrude4_tool1 = extrude(cut_extrude4_sk1.sketch, amount=-CUT_EXTRUDE4_REACH, mode=Mode.PRIVATE) & part.part
    add(cut_extrude4_tool1.solids().sort_by_distance((37.99, 2.8, -1285.31))[0], mode=Mode.SUBTRACT)
    # Sketch5 → Cut-Extrude4 (cut, up to next)
    with BuildSketch(Plane(origin=(0, 2.8, 0), x_dir=(1, 0, 0), z_dir=(0, 1, 0)), mode=Mode.PRIVATE) as cut_extrude4_sk2:
        with Locations((62.01, 1285.31)):
            Circle(SKETCH5_R)
    cut_extrude4_tool2 = extrude(cut_extrude4_sk2.sketch, amount=-CUT_EXTRUDE4_REACH, mode=Mode.PRIVATE) & part.part
    add(cut_extrude4_tool2.solids().sort_by_distance((62.01, 2.8, -1285.31))[0], mode=Mode.SUBTRACT)


solid = part.part
